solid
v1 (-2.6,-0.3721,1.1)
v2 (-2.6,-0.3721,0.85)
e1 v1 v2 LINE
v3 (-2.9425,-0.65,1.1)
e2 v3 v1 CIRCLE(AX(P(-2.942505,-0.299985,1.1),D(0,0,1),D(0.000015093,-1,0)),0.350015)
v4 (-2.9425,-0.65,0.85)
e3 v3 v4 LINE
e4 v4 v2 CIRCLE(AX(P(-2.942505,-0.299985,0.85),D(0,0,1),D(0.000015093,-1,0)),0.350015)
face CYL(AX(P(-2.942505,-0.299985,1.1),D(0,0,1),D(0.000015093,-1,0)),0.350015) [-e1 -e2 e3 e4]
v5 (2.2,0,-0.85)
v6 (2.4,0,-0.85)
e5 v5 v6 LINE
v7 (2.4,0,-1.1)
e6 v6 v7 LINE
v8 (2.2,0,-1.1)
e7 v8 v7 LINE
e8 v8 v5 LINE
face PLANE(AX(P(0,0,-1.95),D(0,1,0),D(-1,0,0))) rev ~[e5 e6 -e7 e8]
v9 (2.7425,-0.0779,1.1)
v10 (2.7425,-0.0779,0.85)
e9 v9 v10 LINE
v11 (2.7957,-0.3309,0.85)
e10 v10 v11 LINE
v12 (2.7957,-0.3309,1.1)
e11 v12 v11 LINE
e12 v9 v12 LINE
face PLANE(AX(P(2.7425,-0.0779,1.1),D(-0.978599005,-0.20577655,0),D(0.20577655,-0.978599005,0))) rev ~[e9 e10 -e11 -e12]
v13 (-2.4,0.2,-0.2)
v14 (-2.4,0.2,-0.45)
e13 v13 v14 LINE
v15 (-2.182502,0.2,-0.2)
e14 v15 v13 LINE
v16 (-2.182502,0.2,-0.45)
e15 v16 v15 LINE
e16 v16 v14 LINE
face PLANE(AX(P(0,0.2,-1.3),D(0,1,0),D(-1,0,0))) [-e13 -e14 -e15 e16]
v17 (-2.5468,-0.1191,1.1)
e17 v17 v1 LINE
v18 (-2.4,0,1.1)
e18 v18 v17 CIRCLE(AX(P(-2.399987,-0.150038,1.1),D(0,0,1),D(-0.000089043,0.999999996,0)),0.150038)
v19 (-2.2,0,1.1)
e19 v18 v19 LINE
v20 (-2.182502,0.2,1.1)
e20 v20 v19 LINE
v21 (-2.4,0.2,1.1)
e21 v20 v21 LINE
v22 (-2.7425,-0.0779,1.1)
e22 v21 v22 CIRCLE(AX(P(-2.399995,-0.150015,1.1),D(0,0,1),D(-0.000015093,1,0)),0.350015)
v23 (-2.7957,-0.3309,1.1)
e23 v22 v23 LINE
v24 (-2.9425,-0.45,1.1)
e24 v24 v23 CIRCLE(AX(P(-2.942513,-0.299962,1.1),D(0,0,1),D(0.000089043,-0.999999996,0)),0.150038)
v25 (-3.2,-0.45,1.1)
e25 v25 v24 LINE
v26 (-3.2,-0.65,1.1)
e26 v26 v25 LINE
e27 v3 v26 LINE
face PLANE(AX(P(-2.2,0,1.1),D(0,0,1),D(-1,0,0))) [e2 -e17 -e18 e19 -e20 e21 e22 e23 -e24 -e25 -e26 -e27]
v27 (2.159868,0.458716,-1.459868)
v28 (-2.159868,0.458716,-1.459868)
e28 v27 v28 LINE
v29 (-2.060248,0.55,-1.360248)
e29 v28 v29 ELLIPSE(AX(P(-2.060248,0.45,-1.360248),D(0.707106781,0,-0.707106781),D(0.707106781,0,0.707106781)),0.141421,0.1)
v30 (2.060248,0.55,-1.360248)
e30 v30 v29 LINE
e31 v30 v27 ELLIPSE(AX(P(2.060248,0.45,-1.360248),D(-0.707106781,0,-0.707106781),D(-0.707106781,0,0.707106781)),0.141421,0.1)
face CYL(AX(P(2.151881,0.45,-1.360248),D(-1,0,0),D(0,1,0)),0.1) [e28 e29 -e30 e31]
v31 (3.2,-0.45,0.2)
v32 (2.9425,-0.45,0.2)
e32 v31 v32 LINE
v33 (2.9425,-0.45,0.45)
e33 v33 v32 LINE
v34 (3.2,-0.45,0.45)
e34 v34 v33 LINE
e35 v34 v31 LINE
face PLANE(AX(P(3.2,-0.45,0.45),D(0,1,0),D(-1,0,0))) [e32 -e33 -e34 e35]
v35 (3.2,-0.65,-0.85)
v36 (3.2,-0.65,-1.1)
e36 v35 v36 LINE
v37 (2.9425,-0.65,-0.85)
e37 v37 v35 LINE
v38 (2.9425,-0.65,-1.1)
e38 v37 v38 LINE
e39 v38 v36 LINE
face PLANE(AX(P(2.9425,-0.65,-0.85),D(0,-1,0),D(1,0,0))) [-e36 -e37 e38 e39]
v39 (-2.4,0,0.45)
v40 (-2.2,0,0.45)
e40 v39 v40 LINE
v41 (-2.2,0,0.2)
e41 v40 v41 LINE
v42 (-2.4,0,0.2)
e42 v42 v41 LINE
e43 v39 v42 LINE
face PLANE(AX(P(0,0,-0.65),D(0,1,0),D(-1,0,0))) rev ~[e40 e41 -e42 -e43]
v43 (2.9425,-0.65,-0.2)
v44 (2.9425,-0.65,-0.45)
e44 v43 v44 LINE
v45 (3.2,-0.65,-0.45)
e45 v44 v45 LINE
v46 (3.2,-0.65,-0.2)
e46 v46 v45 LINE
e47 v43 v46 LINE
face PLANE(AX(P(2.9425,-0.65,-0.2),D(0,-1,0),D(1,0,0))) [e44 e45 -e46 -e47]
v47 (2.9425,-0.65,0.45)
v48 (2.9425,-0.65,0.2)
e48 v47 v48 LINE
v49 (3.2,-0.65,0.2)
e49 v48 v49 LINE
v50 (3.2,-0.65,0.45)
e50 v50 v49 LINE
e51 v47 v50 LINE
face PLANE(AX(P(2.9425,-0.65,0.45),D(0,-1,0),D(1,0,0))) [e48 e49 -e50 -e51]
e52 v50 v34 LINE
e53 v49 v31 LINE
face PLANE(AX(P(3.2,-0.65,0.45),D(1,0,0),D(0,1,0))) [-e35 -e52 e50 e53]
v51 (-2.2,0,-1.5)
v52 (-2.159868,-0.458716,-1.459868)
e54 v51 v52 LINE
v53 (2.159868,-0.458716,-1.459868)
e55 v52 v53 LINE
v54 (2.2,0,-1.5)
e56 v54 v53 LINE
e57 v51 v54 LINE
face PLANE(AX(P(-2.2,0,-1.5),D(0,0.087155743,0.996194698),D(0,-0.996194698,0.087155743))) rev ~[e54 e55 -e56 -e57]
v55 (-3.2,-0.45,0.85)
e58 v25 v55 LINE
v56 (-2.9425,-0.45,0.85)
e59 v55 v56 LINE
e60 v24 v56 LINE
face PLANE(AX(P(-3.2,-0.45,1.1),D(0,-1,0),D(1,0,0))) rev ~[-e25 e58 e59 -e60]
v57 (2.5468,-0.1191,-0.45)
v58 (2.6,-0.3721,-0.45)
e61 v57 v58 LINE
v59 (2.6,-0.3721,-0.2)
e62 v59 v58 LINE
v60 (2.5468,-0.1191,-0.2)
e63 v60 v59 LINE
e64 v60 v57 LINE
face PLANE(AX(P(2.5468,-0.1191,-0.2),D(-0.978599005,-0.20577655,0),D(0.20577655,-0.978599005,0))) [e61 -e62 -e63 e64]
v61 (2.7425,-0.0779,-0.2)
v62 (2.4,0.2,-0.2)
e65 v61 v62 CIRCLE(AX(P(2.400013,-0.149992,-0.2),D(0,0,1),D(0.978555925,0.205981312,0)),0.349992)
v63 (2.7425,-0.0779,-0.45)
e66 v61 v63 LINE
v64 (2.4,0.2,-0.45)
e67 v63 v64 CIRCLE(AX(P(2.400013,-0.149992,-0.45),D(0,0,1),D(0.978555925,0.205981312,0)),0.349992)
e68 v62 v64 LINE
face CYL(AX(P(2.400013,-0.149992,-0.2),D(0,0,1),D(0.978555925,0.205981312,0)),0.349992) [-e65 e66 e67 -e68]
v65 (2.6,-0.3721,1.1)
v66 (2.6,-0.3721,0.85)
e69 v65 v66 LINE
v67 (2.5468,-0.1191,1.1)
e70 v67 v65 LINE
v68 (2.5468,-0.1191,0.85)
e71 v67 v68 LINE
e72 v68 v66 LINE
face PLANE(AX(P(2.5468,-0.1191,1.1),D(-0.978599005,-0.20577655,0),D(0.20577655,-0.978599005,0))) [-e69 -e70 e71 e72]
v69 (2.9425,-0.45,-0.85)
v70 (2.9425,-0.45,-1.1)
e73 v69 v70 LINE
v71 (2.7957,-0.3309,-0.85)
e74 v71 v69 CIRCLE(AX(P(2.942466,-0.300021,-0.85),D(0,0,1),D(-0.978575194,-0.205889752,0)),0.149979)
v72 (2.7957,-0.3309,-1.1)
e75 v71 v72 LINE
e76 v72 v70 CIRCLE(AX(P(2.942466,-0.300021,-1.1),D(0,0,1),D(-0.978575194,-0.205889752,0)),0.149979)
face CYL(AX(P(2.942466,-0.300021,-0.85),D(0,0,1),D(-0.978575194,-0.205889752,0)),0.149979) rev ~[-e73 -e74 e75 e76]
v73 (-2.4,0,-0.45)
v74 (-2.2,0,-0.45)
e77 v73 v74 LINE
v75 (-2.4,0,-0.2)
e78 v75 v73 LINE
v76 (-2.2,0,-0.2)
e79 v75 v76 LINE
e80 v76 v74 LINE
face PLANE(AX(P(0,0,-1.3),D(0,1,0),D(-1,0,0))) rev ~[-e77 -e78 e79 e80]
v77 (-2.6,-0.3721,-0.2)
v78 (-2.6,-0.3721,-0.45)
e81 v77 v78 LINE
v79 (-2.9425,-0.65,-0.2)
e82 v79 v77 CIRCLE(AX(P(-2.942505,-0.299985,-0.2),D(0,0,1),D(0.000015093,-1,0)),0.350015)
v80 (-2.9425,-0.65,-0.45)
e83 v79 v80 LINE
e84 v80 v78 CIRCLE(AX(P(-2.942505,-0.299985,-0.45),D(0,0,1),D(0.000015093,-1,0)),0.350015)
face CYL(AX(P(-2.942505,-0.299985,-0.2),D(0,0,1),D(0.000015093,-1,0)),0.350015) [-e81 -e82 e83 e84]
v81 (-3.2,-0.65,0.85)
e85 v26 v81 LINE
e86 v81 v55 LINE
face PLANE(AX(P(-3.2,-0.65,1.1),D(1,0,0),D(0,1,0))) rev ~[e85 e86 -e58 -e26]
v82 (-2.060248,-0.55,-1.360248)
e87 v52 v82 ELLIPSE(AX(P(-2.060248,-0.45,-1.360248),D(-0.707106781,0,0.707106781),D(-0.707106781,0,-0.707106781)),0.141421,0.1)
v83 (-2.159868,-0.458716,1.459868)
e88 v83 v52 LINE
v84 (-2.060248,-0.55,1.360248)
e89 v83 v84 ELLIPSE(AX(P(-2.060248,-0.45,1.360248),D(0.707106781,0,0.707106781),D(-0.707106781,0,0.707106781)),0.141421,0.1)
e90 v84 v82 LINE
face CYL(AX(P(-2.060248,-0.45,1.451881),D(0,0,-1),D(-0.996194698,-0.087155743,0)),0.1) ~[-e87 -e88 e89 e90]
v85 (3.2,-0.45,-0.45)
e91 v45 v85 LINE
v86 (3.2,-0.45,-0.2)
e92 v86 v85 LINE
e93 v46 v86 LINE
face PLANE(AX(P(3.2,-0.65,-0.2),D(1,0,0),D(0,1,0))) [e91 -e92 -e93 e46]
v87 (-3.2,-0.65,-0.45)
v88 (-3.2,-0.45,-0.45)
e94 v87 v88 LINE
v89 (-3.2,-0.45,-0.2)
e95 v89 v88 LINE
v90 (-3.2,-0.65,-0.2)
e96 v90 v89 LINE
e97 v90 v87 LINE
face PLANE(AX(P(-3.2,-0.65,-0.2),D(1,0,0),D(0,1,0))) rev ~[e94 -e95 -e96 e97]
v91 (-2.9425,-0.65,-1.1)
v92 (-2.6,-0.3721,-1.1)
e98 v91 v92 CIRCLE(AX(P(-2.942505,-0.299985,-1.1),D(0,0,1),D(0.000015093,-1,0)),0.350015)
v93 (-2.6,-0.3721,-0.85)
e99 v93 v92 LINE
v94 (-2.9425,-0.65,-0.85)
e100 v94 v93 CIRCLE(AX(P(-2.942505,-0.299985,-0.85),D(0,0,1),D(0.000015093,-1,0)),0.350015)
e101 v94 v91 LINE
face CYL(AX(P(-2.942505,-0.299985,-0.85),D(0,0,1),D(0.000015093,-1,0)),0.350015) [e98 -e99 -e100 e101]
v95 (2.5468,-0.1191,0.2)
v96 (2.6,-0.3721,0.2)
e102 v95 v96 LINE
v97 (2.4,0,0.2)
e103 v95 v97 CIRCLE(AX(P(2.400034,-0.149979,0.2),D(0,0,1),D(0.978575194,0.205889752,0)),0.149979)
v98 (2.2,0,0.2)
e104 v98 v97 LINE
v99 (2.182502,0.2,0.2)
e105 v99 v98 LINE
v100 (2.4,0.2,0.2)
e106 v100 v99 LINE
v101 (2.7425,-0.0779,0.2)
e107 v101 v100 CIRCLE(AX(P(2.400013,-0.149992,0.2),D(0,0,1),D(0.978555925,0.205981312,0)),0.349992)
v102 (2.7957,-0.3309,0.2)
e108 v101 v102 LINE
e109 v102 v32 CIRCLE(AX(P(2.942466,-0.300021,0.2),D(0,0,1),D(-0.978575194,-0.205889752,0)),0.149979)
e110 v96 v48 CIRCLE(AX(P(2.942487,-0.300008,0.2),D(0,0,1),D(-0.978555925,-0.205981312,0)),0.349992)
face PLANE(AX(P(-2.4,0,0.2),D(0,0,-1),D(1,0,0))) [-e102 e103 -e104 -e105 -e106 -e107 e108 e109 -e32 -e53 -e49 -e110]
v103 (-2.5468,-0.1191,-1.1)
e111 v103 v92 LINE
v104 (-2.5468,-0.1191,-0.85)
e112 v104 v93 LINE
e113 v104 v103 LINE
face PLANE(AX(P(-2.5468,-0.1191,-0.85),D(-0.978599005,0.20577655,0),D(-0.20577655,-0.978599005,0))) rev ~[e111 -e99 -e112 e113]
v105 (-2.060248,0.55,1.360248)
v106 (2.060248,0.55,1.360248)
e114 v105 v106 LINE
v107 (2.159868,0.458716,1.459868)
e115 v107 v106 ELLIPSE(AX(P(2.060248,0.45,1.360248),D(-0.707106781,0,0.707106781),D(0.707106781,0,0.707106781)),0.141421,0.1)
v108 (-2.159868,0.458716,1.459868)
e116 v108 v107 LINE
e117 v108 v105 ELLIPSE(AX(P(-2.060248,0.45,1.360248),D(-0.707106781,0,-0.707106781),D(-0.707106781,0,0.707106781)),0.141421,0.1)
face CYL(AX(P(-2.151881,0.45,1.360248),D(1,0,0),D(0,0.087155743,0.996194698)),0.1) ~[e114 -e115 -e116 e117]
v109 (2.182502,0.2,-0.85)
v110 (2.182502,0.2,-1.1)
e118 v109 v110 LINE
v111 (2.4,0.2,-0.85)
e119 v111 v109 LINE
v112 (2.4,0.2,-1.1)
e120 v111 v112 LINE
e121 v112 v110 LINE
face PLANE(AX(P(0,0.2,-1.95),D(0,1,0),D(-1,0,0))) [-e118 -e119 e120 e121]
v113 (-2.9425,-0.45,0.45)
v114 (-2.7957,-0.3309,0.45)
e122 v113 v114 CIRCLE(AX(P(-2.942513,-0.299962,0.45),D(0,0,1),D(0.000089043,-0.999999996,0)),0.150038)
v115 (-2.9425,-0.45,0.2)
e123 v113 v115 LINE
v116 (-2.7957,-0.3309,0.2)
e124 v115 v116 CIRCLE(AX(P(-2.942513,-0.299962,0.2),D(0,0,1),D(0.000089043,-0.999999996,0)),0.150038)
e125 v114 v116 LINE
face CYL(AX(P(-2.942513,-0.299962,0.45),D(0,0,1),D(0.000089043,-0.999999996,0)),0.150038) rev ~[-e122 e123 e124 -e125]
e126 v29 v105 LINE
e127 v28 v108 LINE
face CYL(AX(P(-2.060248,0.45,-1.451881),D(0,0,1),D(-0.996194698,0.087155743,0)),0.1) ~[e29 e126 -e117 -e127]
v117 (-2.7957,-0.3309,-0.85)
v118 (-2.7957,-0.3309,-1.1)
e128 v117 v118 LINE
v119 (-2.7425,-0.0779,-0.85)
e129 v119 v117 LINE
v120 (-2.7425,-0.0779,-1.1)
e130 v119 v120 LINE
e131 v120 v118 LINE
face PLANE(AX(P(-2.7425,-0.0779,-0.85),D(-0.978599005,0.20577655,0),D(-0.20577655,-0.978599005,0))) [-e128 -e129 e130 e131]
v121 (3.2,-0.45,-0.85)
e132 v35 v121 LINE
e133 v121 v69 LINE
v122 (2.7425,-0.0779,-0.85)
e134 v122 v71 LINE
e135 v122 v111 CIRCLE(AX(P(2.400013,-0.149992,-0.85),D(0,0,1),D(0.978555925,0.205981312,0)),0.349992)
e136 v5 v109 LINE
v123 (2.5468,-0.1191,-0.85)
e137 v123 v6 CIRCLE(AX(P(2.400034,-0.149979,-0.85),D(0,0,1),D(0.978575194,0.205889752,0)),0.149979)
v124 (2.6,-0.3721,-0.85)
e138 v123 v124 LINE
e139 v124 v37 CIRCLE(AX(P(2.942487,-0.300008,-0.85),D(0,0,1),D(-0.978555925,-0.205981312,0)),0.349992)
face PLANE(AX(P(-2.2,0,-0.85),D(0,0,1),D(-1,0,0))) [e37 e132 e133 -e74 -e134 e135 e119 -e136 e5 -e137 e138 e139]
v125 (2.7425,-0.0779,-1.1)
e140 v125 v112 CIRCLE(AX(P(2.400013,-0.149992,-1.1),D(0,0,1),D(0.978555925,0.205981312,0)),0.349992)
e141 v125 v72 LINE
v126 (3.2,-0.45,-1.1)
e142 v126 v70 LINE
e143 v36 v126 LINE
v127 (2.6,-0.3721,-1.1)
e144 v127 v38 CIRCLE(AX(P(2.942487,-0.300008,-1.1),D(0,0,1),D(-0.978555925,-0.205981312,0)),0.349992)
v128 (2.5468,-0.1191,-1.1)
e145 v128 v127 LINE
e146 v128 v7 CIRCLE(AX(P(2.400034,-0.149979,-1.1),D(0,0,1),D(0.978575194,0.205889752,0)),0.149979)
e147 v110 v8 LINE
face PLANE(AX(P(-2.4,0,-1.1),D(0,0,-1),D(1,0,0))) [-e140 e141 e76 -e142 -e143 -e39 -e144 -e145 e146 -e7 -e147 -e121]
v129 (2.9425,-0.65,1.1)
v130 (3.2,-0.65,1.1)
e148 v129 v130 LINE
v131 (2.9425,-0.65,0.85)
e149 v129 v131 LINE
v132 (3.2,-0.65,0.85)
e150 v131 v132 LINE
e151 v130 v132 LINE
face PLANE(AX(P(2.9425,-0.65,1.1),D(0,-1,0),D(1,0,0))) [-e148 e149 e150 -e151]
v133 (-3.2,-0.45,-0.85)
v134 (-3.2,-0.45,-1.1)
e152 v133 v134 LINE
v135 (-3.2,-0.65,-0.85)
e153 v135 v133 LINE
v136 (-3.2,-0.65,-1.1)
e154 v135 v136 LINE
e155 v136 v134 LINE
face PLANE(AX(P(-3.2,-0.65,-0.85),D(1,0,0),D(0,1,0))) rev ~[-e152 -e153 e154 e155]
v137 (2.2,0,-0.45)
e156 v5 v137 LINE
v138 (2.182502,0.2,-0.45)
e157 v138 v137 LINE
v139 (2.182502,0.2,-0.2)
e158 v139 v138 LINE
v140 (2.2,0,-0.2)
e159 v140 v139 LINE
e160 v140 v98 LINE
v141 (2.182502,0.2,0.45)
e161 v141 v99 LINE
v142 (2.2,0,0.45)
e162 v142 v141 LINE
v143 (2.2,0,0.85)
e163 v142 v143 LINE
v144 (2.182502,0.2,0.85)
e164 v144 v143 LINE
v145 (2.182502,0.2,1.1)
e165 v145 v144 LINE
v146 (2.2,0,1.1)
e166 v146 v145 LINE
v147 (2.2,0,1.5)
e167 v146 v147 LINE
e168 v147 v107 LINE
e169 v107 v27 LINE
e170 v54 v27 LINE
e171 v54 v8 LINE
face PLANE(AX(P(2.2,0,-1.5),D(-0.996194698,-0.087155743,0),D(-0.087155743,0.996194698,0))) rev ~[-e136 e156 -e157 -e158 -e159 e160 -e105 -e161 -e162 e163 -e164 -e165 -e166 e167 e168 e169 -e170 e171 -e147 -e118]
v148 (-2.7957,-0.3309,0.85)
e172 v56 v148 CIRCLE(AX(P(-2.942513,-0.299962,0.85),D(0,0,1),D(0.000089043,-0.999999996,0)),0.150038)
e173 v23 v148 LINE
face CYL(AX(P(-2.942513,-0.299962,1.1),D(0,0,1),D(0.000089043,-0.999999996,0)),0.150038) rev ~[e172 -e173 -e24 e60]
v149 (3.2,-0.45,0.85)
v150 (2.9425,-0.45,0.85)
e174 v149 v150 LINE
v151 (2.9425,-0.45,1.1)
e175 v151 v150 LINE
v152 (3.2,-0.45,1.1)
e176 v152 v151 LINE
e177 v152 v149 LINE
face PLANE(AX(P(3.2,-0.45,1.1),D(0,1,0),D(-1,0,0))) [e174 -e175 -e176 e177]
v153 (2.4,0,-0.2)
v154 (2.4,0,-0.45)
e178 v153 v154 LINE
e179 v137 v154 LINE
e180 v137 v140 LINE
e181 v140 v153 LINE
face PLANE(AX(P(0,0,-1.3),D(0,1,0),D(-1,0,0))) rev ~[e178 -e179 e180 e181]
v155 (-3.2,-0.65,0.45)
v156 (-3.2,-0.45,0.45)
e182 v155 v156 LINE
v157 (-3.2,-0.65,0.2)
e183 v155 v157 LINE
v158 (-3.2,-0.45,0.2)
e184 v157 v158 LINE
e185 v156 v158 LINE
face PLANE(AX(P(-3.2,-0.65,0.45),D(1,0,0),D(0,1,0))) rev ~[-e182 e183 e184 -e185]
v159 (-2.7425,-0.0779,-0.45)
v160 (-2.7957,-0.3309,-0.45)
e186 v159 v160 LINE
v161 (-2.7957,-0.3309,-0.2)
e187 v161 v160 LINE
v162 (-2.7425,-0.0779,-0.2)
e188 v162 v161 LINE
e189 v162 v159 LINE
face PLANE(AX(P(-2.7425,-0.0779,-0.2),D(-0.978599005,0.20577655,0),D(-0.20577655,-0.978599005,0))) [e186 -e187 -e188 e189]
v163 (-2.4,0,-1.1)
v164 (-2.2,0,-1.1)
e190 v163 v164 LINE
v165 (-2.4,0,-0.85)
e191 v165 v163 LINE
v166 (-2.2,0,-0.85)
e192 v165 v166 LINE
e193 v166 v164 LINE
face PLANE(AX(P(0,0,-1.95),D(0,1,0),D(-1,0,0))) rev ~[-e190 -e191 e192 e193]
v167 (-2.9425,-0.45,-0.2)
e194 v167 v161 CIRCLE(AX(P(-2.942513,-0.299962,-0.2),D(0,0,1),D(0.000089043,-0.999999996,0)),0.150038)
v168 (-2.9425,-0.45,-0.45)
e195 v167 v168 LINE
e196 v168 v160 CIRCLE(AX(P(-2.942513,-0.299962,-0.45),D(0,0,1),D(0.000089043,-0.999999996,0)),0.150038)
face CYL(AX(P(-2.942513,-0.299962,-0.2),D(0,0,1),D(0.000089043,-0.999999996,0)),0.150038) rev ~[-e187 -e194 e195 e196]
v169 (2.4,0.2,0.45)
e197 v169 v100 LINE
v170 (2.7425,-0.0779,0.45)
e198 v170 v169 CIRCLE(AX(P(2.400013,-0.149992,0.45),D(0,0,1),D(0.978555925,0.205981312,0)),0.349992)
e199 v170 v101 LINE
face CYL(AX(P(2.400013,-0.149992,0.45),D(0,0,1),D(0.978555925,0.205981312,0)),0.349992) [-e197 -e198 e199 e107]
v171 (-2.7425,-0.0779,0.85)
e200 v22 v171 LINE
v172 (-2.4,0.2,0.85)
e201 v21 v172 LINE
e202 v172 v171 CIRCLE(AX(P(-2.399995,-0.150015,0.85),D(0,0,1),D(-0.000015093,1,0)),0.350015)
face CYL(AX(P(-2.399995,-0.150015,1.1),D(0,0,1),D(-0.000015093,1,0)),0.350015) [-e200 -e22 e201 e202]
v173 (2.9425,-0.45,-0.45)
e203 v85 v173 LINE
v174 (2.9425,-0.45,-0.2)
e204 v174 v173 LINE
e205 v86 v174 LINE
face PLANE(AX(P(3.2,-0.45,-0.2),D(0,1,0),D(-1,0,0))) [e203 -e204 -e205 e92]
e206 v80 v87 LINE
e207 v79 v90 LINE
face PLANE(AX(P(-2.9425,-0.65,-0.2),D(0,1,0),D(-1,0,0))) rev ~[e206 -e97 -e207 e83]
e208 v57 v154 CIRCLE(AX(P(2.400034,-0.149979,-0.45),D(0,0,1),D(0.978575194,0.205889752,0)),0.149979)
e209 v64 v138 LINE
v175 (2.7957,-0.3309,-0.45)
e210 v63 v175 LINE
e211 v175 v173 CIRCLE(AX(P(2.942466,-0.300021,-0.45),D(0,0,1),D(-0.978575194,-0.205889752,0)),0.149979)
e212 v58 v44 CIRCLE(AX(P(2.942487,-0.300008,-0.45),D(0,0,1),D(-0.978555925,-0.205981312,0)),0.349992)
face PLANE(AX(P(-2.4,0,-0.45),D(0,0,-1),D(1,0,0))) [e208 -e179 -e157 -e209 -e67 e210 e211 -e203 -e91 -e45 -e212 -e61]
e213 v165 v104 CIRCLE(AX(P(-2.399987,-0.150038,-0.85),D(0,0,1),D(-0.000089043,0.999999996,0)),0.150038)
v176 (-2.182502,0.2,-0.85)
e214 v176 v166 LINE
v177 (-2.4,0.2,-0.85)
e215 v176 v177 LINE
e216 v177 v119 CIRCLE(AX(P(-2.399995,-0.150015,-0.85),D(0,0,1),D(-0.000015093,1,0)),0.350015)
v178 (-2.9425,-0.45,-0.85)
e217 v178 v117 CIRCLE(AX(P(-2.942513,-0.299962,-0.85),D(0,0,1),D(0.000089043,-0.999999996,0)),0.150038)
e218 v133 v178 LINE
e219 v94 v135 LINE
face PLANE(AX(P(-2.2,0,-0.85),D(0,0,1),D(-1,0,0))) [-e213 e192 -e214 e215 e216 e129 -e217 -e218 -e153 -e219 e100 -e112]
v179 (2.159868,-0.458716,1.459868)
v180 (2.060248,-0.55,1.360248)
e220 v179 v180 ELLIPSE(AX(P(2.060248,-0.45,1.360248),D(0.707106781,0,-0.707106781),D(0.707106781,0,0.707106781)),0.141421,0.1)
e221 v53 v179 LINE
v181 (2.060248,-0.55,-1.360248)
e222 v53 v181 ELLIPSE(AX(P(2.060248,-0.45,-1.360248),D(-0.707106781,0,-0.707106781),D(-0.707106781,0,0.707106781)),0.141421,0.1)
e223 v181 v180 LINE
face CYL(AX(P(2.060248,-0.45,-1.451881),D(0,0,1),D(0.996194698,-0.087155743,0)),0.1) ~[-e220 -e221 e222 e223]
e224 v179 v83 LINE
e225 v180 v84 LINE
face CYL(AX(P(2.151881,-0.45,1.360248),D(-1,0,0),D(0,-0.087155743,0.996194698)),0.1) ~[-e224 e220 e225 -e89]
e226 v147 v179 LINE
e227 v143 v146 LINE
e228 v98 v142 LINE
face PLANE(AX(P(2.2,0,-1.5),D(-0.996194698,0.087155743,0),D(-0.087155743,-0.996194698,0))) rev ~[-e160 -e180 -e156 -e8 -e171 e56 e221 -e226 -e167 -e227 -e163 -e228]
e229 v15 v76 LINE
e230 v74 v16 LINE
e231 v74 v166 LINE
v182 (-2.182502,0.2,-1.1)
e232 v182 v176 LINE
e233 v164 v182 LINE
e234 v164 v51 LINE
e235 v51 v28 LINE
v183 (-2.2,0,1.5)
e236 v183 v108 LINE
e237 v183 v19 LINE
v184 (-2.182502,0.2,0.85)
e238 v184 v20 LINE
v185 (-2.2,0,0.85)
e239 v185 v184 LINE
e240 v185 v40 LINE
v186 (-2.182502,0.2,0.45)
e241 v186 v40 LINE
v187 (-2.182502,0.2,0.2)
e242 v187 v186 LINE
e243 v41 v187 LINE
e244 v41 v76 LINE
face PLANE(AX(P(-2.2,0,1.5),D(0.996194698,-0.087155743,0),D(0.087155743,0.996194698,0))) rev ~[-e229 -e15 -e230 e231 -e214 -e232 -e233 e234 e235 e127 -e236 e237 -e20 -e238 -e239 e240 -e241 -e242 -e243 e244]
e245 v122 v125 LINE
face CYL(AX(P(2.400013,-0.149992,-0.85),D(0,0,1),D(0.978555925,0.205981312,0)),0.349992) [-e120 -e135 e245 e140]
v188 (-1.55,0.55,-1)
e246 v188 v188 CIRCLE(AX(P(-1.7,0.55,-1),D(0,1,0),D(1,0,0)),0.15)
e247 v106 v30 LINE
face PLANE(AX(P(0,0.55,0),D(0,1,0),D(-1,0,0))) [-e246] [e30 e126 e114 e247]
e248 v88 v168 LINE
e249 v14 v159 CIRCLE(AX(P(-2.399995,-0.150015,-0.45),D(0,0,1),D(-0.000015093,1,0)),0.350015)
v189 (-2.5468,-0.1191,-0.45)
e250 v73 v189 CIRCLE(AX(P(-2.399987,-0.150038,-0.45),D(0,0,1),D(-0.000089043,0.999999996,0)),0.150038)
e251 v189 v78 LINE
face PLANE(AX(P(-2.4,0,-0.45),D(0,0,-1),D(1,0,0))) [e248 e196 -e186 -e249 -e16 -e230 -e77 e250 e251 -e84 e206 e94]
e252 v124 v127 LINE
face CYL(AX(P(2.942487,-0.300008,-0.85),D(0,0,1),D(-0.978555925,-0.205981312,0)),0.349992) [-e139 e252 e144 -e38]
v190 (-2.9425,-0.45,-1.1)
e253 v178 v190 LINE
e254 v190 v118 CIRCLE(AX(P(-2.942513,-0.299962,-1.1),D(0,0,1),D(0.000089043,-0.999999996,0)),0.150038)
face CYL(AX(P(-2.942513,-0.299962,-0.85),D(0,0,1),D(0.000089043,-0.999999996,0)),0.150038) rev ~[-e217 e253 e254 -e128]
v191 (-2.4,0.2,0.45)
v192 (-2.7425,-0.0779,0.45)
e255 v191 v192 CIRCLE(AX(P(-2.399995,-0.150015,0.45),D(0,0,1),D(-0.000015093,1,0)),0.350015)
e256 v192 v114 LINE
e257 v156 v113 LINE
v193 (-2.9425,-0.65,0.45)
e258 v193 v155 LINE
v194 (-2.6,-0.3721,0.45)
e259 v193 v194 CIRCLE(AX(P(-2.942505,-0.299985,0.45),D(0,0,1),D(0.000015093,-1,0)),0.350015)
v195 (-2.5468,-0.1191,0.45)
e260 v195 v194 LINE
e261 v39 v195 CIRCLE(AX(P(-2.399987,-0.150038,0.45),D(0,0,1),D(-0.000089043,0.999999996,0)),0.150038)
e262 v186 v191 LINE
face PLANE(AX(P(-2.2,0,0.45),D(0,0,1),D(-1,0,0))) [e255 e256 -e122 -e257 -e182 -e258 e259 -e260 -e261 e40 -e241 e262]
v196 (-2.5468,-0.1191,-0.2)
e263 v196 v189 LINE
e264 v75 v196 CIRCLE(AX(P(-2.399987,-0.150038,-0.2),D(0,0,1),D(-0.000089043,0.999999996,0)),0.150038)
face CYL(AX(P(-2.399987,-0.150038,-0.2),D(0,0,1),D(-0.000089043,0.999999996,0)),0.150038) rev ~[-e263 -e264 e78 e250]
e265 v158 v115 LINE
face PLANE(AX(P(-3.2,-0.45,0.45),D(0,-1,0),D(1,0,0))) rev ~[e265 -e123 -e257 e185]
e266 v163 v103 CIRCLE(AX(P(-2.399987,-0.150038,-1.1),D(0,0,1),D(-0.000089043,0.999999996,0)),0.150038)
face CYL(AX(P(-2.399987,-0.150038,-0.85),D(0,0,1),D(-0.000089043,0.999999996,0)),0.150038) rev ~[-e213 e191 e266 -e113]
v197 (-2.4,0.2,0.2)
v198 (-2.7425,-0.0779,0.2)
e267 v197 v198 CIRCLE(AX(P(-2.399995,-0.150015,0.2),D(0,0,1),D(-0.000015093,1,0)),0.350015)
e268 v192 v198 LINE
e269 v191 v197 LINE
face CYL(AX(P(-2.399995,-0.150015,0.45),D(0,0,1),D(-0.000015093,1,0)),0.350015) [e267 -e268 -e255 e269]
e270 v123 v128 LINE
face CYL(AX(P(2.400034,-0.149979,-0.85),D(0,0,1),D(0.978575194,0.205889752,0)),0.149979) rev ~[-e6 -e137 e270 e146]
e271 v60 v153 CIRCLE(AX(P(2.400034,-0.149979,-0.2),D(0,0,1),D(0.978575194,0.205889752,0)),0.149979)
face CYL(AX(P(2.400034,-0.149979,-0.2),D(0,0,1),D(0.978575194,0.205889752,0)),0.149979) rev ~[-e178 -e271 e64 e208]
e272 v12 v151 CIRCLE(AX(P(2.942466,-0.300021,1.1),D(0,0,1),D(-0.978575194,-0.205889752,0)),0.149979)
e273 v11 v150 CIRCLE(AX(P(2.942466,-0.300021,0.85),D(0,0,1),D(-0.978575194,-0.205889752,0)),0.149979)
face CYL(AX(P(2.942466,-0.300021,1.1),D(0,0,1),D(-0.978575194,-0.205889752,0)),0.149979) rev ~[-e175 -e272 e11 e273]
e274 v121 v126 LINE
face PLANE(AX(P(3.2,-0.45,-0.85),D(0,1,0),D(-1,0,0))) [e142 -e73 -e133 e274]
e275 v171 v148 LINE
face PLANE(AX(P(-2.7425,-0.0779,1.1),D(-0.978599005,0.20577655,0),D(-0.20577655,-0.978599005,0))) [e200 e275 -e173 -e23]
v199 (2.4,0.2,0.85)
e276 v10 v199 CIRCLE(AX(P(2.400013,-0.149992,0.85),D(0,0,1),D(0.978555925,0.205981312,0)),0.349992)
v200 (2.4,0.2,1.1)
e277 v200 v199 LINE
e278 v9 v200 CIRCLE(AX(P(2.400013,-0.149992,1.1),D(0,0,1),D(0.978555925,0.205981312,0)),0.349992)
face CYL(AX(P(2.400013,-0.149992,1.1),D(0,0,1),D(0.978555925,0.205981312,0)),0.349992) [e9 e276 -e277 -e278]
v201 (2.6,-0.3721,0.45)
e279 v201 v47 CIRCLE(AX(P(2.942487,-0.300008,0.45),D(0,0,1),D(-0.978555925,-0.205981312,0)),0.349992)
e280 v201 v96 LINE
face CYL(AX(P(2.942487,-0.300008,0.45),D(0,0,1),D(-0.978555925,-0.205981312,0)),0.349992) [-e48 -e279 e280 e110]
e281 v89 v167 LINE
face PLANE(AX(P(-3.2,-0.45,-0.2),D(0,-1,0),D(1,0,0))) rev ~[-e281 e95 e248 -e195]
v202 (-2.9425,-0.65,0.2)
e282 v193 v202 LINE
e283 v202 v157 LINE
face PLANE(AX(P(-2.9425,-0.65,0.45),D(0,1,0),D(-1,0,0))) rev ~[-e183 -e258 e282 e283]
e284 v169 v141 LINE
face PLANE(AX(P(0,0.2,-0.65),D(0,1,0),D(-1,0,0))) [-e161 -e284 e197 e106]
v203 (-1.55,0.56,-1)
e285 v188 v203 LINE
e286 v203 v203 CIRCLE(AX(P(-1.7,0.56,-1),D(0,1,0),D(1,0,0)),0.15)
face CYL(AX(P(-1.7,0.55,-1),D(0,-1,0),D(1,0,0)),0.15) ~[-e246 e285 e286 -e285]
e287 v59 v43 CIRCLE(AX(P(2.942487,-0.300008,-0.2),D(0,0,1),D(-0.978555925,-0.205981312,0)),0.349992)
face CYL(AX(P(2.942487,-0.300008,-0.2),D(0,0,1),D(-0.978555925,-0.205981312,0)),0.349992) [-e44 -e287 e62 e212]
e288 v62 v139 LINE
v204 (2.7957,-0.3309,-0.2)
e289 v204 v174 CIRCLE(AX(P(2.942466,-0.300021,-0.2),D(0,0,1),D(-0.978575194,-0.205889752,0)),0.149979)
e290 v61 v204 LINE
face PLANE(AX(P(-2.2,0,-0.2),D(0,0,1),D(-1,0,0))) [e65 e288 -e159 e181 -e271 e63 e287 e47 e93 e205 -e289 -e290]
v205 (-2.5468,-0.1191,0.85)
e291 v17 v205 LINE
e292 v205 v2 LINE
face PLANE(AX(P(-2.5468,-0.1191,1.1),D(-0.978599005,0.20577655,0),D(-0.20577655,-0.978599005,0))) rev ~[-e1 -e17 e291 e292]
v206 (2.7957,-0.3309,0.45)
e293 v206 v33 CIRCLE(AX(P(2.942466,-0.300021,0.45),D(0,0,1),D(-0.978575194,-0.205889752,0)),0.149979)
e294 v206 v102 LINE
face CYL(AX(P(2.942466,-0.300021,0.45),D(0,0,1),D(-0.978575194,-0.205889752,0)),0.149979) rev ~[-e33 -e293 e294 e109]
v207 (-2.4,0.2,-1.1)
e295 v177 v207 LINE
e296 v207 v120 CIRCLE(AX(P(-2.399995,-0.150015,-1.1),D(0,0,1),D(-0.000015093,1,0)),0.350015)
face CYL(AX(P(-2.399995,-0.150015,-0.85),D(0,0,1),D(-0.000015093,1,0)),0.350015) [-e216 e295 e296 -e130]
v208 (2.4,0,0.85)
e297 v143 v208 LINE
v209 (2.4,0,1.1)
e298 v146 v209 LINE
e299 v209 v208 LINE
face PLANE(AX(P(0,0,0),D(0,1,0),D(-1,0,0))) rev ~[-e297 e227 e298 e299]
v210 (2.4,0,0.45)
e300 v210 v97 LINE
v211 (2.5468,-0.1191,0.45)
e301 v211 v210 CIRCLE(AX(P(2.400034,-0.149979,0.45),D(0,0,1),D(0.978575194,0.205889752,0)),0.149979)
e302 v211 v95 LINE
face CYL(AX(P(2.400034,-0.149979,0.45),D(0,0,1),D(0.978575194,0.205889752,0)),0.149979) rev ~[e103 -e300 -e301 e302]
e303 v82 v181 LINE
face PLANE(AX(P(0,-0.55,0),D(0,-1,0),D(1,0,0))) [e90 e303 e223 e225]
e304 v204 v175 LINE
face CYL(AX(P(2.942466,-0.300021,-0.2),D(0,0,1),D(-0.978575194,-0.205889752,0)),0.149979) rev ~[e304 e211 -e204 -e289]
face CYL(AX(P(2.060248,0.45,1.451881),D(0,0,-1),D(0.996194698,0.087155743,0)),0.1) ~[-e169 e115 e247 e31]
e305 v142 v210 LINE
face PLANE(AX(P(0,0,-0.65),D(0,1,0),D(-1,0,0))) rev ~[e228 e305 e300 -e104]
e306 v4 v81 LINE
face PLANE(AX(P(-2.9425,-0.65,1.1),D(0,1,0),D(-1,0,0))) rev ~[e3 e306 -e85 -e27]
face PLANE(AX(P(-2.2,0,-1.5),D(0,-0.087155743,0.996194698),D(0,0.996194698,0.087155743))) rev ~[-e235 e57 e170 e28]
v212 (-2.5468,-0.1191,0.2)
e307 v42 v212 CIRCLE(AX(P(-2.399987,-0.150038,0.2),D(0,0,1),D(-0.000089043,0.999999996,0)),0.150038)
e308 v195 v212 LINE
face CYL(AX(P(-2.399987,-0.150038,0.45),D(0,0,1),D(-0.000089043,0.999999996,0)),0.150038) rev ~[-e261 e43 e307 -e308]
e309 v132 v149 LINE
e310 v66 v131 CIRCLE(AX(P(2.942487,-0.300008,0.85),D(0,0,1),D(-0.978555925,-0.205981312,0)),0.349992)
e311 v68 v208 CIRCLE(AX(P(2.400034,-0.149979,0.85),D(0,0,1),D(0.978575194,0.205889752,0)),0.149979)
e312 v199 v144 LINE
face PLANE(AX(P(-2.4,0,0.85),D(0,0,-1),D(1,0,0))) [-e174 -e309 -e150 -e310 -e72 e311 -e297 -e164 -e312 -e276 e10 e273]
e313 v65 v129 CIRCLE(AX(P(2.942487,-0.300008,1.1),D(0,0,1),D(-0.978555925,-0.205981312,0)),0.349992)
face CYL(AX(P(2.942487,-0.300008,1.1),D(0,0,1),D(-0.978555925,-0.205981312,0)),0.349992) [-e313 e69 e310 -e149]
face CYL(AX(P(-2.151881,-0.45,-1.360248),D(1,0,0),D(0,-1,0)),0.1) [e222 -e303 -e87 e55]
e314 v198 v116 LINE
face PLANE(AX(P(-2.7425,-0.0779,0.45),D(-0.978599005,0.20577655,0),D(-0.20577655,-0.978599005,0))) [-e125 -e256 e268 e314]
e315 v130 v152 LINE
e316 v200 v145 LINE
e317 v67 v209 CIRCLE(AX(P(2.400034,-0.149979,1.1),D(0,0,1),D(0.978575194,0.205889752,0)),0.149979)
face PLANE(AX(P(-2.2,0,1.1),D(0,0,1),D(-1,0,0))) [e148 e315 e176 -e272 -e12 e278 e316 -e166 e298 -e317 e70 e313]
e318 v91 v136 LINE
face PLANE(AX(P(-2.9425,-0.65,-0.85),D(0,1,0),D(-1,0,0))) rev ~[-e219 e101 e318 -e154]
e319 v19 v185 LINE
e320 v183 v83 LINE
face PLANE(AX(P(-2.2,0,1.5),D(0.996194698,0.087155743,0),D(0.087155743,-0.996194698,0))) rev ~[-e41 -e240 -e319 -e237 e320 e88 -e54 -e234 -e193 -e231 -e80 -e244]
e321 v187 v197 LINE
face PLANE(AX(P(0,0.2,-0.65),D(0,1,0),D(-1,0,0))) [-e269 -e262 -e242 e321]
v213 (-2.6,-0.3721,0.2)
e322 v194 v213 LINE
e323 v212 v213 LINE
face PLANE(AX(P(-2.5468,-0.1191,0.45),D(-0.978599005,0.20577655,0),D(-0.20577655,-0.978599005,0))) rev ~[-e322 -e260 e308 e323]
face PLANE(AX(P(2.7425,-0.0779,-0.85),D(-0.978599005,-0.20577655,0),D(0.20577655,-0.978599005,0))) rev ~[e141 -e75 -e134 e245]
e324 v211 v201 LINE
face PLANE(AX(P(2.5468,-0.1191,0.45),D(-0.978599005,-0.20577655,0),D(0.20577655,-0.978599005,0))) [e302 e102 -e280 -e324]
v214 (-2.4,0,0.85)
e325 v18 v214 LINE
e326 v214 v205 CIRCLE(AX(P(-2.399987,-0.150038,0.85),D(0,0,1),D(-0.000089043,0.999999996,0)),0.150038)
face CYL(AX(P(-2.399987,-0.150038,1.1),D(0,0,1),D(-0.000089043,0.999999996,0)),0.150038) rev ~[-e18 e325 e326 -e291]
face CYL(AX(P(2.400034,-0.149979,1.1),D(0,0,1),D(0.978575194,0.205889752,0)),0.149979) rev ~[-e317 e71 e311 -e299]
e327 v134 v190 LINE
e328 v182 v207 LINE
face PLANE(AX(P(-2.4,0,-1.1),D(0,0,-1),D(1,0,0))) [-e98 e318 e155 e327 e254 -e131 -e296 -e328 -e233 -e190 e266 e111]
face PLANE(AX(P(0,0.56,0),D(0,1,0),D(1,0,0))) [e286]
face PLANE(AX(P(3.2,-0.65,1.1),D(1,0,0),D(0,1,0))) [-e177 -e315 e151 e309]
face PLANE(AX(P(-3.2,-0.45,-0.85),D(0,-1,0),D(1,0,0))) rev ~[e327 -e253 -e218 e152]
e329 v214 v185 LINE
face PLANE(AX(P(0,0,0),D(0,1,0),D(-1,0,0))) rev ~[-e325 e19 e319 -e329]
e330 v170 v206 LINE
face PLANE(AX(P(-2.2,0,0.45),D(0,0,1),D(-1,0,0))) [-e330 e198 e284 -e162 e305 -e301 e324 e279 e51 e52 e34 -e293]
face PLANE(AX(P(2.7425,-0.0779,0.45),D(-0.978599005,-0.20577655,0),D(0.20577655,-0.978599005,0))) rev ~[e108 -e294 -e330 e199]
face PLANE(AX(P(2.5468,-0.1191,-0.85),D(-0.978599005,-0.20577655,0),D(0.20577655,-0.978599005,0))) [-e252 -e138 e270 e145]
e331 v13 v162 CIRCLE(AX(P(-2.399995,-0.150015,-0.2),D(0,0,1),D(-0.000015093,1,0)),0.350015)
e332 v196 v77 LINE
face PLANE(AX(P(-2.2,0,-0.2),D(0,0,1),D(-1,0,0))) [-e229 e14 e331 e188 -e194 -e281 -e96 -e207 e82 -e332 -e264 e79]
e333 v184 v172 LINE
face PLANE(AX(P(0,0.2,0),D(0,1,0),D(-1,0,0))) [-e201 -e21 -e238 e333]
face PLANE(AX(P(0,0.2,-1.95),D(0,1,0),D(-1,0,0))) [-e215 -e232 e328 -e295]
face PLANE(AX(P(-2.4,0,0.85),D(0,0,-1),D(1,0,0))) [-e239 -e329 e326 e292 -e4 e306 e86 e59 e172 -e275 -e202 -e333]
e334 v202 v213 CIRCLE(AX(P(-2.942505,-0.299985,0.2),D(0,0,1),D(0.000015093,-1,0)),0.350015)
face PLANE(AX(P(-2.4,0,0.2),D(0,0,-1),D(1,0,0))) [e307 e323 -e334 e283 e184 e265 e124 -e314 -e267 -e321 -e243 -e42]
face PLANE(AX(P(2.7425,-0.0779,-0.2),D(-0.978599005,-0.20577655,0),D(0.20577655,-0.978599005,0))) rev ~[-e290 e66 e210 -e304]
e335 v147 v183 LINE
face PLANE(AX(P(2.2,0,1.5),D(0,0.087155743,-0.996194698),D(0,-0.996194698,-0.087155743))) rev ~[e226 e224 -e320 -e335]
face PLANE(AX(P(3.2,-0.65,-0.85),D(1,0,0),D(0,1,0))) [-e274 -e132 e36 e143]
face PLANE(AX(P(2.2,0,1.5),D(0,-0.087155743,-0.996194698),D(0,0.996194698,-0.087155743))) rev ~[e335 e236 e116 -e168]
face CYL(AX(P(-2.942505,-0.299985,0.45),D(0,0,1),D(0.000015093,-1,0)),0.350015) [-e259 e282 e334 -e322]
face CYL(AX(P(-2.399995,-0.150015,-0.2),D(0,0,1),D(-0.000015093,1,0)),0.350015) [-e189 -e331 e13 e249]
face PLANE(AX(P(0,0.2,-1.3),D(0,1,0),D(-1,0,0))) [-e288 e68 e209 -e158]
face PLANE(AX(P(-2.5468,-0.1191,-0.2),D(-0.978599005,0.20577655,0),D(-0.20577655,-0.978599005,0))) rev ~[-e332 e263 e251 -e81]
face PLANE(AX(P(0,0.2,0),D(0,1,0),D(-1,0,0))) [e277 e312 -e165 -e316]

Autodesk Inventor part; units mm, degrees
ref_plane "YZ Plane" through (0, 0, 0) normal (1, 0, 0) x (0, 1, 0)
ref_plane "XZ Plane" through (0, 0, 0) normal (0, 1, 0) x (-1, 0, 0)
ref_plane "XY Plane" through (0, 0, 0) normal (0, 0, 1) x (1, 0, 0)
sketch "Sketch1" plane through (0, 0, 0) normal (0, 1, 0) x (-1, 0, 0)
  line L0 (-2.2, 1.5) -> (2.2, 1.5)
  line L1 (2.2, 1.5) -> (2.2, -1.5)
  line L2 (2.2, -1.5) -> (-2.2, -1.5)
  line L3 (-2.2, -1.5) -> (-2.2, 1.5)
  line L4 (-2.2, 1.5) -> (2.2, -1.5) construction
  line L5 (2.2, 1.5) -> (-2.2, -1.5) construction
  point P0 (0, 0)
  dimension "d0" = 4.4
  dimension "d1" = 3
extrude "Extrusion1" add sketch "Sketch1" along normal blind 0.55 draft -5
sketch "Sketch2" plane through (0, 0, 0) normal (0, -1, 0) x (1, 0, 0)
  line L0 (2.2, 1.5) -> (-2.2, 1.5) projected
  line L1 (2.2, 1.5) -> (-2.2, 1.5) projected
  line L2 (-2.2, 1.5) -> (-2.2, -1.5) projected
  line L3 (-2.2, -1.5) -> (2.2, -1.5) projected
  line L4 (2.2, -1.5) -> (2.2, 1.5) projected
  point P0 (0, 0)
extrude "Extrusion2" add sketch "Sketch2" along normal blind 0.55 draft -5
fillet "Fillet1" radius 0.1 8 edges at (-2.1519, 0.55, 0) (0, 0.55, 1.4519) (0, 0.55, -1.4519) (2.1519, 0.55, 0) (2.1519, -0.55, 0) (0, -0.55, 1.4519) (-2.1519, -0.55, 0) (0, -0.55, -1.4519)
sketch "Sketch3" plane through (0, 0, 0) normal (0, 1, 0) x (-1, 0, 0)
  line L0 (2.2, 1.5) -> (2.2, -1.5) projected
  line L1 (-2.2, 1.5) -> (2.2, 1.5) projected
  line L2 (2.2, 1.1) -> (2.4, 1.1)
  line L3 (2.4, 1.1) -> (2.4, 0.85)
  line L4 (2.4, 0.85) -> (2.2, 0.85)
  line L5 (2.2, 0.85) -> (2.2, 1.1)
  line L6 (-2.2, -1.5) -> (-2.2, 1.5) projected
  line L7 (-2.2, 1.1) -> (-2.4, 1.1)
  line L8 (-2.4, 1.1) -> (-2.4, 0.85)
  line L9 (-2.4, 0.85) -> (-2.2, 0.85)
  line L10 (-2.2, 0.85) -> (-2.2, 1.1)
  line L11 (-2.2, 0.85) -> (2.2, 0.85)
  line L12 (2.2, 0.85) -> (2.2, 1.1)
  line L13 (2.2, 1.1) -> (-2.2, 1.1)
  line L14 (-2.2, 1.1) -> (-2.2, 0.85)
  point P0 (0, 0)
  point P1 (2.2, 0.975)
  dimension "d7" = 0.25
  dimension "d8" = 0.975
  dimension "d9" = 0.2
extrude "Extrusion3" add sketch "Sketch3" along normal blind 0.2 contours L2 L3 L4 L0 | L0 L11 L6 L13 | L6 L9 L8 L7
sketch "Sketch4" plane through (-2.4, 0, 1.1) normal (0, 0, 1) x (1, 0, 0)
  line L0 (0.2175, 0.2) -> (0.2, 0) projected
  line L1 (0, 0.2) -> (0.2175, 0.2) projected
  line L2 (0, 0) -> (0, 0.2) projected
  line L3 (0, 0) -> (0.2, 0) projected
  line L4 (4.6, 0) -> (4.5825, 0.2) projected
  line L5 (4.6, 0) -> (4.8, 0) projected
  line L6 (4.8, 0) -> (4.8, 0.2) projected
  line L7 (4.5825, 0.2) -> (4.8, 0.2) projected
  line L8 (0, 0) -> (0.2, 0) projected
  arc A0 (0, 0) -> (-0.1468, -0.1191) centre (0, -0.15) ccw
  arc A1 (-0.5425, -0.65) -> (-0.2, -0.3721) centre (-0.5425, -0.3) ccw
  line L9 (0, 0.2) -> (0.2175, 0.2) projected
  arc A2 (0, 0.2) -> (-0.3425, -0.0779) centre (0, -0.15) ccw
  arc A3 (-0.5425, -0.45) -> (-0.3957, -0.3309) centre (-0.5425, -0.3) ccw
  line L10 (-0.5425, -0.65) -> (-0.8, -0.65)
  line L11 (-0.8, -0.65) -> (-0.8, -0.45)
  line L12 (-0.8, -0.45) -> (-0.5425, -0.45)
  line L13 (-0.3425, -0.0779) -> (-0.3957, -0.3309)
  line L14 (-0.1468, -0.1191) -> (-0.2, -0.3721)
  line L15 (4.4602, -0.55) -> (0.3398, -0.55) projected
  line L16 (0, 0.2) -> (0, 0)
  line L17 (0.3398, 0.55) -> (4.4602, 0.55) projected
  line L18 (2.4, 0.5) -> (2.4, -0.5)
  line L19 (4.8, 0) -> (4.8, 0.2)
  arc A4 (4.9468, -0.1191) -> (4.8, 0) centre (4.8, -0.15) ccw
  arc A5 (5, -0.3721) -> (5.3425, -0.65) centre (5.3425, -0.3) ccw
  arc A6 (5.1425, -0.0779) -> (4.8, 0.2) centre (4.8, -0.15) ccw
  arc A7 (5.1957, -0.3309) -> (5.3425, -0.45) centre (5.3425, -0.3) ccw
  line L20 (5.3425, -0.65) -> (5.6, -0.65)
  line L21 (5.6, -0.65) -> (5.6, -0.45)
  line L22 (5.6, -0.45) -> (5.3425, -0.45)
  line L23 (5.1425, -0.0779) -> (5.1957, -0.3309)
  line L24 (4.9468, -0.1191) -> (5, -0.3721)
  point P0 (2.4, 0)
  dimension "d12" = 0.15
  dimension "d13" = 0.15
  dimension "d16" = 0.6
  dimension "d17" = 0.1
  dimension "d25" = 6.4
extrude "Extrusion4" add sketch "Sketch4" against normal up to surface (0.25 mm away) contours L2 A0 L14 A1 L10 L11 L12 A3 L13 A2 | L6 A6 L23 A7 L22 L21 L20 A5 L24 A4
pattern_linear "Rectangular Pattern1" count 4 spacing 0.65 along (0, 0, -1) of "Extrusion4", "Extrusion3"
sketch "Sketch5" plane through (0, 0.55, 0) normal (0, 1, 0) x (1, 0, 0)
  line L0 (2.0602, -1.3602) -> (-2.0602, -1.3602) projected
  line L1 (2.0602, 1.3602) -> (2.0602, -1.3602) projected
  line L2 (-2.0602, 1.3602) -> (2.0602, 1.3602) projected
  line L3 (-2.0602, -1.3602) -> (-2.0602, 1.3602) projected
  circle A0 centre (-1.7, 1) radius 0.15
  circle A1 centre (-1.7, 1) radius 0.3602 construction
  line L4 (-2.0602, -1.3602) -> (-2.0602, 1.3602) projected
  line L5 (-2.0602, -1.3602) -> (2.0602, -1.3602) construction
  line L6 (-2.0602, 1.3602) -> (2.0602, 1.3602) construction
  line L7 (-2.2, 1.5) -> (2.2, 1.5) projected
  point P0 (0, 0)
  dimension "d26" = 0.5
  dimension "d27" = 0.3
extrude "Extrusion5" add sketch "Sketch5" along normal blind 0.01 and the other way blind 0.255 contours A0
equation "\"d13\" = d12"
properties part number "Semiconductor_TSSOP-8" material "ABS Plastic"
